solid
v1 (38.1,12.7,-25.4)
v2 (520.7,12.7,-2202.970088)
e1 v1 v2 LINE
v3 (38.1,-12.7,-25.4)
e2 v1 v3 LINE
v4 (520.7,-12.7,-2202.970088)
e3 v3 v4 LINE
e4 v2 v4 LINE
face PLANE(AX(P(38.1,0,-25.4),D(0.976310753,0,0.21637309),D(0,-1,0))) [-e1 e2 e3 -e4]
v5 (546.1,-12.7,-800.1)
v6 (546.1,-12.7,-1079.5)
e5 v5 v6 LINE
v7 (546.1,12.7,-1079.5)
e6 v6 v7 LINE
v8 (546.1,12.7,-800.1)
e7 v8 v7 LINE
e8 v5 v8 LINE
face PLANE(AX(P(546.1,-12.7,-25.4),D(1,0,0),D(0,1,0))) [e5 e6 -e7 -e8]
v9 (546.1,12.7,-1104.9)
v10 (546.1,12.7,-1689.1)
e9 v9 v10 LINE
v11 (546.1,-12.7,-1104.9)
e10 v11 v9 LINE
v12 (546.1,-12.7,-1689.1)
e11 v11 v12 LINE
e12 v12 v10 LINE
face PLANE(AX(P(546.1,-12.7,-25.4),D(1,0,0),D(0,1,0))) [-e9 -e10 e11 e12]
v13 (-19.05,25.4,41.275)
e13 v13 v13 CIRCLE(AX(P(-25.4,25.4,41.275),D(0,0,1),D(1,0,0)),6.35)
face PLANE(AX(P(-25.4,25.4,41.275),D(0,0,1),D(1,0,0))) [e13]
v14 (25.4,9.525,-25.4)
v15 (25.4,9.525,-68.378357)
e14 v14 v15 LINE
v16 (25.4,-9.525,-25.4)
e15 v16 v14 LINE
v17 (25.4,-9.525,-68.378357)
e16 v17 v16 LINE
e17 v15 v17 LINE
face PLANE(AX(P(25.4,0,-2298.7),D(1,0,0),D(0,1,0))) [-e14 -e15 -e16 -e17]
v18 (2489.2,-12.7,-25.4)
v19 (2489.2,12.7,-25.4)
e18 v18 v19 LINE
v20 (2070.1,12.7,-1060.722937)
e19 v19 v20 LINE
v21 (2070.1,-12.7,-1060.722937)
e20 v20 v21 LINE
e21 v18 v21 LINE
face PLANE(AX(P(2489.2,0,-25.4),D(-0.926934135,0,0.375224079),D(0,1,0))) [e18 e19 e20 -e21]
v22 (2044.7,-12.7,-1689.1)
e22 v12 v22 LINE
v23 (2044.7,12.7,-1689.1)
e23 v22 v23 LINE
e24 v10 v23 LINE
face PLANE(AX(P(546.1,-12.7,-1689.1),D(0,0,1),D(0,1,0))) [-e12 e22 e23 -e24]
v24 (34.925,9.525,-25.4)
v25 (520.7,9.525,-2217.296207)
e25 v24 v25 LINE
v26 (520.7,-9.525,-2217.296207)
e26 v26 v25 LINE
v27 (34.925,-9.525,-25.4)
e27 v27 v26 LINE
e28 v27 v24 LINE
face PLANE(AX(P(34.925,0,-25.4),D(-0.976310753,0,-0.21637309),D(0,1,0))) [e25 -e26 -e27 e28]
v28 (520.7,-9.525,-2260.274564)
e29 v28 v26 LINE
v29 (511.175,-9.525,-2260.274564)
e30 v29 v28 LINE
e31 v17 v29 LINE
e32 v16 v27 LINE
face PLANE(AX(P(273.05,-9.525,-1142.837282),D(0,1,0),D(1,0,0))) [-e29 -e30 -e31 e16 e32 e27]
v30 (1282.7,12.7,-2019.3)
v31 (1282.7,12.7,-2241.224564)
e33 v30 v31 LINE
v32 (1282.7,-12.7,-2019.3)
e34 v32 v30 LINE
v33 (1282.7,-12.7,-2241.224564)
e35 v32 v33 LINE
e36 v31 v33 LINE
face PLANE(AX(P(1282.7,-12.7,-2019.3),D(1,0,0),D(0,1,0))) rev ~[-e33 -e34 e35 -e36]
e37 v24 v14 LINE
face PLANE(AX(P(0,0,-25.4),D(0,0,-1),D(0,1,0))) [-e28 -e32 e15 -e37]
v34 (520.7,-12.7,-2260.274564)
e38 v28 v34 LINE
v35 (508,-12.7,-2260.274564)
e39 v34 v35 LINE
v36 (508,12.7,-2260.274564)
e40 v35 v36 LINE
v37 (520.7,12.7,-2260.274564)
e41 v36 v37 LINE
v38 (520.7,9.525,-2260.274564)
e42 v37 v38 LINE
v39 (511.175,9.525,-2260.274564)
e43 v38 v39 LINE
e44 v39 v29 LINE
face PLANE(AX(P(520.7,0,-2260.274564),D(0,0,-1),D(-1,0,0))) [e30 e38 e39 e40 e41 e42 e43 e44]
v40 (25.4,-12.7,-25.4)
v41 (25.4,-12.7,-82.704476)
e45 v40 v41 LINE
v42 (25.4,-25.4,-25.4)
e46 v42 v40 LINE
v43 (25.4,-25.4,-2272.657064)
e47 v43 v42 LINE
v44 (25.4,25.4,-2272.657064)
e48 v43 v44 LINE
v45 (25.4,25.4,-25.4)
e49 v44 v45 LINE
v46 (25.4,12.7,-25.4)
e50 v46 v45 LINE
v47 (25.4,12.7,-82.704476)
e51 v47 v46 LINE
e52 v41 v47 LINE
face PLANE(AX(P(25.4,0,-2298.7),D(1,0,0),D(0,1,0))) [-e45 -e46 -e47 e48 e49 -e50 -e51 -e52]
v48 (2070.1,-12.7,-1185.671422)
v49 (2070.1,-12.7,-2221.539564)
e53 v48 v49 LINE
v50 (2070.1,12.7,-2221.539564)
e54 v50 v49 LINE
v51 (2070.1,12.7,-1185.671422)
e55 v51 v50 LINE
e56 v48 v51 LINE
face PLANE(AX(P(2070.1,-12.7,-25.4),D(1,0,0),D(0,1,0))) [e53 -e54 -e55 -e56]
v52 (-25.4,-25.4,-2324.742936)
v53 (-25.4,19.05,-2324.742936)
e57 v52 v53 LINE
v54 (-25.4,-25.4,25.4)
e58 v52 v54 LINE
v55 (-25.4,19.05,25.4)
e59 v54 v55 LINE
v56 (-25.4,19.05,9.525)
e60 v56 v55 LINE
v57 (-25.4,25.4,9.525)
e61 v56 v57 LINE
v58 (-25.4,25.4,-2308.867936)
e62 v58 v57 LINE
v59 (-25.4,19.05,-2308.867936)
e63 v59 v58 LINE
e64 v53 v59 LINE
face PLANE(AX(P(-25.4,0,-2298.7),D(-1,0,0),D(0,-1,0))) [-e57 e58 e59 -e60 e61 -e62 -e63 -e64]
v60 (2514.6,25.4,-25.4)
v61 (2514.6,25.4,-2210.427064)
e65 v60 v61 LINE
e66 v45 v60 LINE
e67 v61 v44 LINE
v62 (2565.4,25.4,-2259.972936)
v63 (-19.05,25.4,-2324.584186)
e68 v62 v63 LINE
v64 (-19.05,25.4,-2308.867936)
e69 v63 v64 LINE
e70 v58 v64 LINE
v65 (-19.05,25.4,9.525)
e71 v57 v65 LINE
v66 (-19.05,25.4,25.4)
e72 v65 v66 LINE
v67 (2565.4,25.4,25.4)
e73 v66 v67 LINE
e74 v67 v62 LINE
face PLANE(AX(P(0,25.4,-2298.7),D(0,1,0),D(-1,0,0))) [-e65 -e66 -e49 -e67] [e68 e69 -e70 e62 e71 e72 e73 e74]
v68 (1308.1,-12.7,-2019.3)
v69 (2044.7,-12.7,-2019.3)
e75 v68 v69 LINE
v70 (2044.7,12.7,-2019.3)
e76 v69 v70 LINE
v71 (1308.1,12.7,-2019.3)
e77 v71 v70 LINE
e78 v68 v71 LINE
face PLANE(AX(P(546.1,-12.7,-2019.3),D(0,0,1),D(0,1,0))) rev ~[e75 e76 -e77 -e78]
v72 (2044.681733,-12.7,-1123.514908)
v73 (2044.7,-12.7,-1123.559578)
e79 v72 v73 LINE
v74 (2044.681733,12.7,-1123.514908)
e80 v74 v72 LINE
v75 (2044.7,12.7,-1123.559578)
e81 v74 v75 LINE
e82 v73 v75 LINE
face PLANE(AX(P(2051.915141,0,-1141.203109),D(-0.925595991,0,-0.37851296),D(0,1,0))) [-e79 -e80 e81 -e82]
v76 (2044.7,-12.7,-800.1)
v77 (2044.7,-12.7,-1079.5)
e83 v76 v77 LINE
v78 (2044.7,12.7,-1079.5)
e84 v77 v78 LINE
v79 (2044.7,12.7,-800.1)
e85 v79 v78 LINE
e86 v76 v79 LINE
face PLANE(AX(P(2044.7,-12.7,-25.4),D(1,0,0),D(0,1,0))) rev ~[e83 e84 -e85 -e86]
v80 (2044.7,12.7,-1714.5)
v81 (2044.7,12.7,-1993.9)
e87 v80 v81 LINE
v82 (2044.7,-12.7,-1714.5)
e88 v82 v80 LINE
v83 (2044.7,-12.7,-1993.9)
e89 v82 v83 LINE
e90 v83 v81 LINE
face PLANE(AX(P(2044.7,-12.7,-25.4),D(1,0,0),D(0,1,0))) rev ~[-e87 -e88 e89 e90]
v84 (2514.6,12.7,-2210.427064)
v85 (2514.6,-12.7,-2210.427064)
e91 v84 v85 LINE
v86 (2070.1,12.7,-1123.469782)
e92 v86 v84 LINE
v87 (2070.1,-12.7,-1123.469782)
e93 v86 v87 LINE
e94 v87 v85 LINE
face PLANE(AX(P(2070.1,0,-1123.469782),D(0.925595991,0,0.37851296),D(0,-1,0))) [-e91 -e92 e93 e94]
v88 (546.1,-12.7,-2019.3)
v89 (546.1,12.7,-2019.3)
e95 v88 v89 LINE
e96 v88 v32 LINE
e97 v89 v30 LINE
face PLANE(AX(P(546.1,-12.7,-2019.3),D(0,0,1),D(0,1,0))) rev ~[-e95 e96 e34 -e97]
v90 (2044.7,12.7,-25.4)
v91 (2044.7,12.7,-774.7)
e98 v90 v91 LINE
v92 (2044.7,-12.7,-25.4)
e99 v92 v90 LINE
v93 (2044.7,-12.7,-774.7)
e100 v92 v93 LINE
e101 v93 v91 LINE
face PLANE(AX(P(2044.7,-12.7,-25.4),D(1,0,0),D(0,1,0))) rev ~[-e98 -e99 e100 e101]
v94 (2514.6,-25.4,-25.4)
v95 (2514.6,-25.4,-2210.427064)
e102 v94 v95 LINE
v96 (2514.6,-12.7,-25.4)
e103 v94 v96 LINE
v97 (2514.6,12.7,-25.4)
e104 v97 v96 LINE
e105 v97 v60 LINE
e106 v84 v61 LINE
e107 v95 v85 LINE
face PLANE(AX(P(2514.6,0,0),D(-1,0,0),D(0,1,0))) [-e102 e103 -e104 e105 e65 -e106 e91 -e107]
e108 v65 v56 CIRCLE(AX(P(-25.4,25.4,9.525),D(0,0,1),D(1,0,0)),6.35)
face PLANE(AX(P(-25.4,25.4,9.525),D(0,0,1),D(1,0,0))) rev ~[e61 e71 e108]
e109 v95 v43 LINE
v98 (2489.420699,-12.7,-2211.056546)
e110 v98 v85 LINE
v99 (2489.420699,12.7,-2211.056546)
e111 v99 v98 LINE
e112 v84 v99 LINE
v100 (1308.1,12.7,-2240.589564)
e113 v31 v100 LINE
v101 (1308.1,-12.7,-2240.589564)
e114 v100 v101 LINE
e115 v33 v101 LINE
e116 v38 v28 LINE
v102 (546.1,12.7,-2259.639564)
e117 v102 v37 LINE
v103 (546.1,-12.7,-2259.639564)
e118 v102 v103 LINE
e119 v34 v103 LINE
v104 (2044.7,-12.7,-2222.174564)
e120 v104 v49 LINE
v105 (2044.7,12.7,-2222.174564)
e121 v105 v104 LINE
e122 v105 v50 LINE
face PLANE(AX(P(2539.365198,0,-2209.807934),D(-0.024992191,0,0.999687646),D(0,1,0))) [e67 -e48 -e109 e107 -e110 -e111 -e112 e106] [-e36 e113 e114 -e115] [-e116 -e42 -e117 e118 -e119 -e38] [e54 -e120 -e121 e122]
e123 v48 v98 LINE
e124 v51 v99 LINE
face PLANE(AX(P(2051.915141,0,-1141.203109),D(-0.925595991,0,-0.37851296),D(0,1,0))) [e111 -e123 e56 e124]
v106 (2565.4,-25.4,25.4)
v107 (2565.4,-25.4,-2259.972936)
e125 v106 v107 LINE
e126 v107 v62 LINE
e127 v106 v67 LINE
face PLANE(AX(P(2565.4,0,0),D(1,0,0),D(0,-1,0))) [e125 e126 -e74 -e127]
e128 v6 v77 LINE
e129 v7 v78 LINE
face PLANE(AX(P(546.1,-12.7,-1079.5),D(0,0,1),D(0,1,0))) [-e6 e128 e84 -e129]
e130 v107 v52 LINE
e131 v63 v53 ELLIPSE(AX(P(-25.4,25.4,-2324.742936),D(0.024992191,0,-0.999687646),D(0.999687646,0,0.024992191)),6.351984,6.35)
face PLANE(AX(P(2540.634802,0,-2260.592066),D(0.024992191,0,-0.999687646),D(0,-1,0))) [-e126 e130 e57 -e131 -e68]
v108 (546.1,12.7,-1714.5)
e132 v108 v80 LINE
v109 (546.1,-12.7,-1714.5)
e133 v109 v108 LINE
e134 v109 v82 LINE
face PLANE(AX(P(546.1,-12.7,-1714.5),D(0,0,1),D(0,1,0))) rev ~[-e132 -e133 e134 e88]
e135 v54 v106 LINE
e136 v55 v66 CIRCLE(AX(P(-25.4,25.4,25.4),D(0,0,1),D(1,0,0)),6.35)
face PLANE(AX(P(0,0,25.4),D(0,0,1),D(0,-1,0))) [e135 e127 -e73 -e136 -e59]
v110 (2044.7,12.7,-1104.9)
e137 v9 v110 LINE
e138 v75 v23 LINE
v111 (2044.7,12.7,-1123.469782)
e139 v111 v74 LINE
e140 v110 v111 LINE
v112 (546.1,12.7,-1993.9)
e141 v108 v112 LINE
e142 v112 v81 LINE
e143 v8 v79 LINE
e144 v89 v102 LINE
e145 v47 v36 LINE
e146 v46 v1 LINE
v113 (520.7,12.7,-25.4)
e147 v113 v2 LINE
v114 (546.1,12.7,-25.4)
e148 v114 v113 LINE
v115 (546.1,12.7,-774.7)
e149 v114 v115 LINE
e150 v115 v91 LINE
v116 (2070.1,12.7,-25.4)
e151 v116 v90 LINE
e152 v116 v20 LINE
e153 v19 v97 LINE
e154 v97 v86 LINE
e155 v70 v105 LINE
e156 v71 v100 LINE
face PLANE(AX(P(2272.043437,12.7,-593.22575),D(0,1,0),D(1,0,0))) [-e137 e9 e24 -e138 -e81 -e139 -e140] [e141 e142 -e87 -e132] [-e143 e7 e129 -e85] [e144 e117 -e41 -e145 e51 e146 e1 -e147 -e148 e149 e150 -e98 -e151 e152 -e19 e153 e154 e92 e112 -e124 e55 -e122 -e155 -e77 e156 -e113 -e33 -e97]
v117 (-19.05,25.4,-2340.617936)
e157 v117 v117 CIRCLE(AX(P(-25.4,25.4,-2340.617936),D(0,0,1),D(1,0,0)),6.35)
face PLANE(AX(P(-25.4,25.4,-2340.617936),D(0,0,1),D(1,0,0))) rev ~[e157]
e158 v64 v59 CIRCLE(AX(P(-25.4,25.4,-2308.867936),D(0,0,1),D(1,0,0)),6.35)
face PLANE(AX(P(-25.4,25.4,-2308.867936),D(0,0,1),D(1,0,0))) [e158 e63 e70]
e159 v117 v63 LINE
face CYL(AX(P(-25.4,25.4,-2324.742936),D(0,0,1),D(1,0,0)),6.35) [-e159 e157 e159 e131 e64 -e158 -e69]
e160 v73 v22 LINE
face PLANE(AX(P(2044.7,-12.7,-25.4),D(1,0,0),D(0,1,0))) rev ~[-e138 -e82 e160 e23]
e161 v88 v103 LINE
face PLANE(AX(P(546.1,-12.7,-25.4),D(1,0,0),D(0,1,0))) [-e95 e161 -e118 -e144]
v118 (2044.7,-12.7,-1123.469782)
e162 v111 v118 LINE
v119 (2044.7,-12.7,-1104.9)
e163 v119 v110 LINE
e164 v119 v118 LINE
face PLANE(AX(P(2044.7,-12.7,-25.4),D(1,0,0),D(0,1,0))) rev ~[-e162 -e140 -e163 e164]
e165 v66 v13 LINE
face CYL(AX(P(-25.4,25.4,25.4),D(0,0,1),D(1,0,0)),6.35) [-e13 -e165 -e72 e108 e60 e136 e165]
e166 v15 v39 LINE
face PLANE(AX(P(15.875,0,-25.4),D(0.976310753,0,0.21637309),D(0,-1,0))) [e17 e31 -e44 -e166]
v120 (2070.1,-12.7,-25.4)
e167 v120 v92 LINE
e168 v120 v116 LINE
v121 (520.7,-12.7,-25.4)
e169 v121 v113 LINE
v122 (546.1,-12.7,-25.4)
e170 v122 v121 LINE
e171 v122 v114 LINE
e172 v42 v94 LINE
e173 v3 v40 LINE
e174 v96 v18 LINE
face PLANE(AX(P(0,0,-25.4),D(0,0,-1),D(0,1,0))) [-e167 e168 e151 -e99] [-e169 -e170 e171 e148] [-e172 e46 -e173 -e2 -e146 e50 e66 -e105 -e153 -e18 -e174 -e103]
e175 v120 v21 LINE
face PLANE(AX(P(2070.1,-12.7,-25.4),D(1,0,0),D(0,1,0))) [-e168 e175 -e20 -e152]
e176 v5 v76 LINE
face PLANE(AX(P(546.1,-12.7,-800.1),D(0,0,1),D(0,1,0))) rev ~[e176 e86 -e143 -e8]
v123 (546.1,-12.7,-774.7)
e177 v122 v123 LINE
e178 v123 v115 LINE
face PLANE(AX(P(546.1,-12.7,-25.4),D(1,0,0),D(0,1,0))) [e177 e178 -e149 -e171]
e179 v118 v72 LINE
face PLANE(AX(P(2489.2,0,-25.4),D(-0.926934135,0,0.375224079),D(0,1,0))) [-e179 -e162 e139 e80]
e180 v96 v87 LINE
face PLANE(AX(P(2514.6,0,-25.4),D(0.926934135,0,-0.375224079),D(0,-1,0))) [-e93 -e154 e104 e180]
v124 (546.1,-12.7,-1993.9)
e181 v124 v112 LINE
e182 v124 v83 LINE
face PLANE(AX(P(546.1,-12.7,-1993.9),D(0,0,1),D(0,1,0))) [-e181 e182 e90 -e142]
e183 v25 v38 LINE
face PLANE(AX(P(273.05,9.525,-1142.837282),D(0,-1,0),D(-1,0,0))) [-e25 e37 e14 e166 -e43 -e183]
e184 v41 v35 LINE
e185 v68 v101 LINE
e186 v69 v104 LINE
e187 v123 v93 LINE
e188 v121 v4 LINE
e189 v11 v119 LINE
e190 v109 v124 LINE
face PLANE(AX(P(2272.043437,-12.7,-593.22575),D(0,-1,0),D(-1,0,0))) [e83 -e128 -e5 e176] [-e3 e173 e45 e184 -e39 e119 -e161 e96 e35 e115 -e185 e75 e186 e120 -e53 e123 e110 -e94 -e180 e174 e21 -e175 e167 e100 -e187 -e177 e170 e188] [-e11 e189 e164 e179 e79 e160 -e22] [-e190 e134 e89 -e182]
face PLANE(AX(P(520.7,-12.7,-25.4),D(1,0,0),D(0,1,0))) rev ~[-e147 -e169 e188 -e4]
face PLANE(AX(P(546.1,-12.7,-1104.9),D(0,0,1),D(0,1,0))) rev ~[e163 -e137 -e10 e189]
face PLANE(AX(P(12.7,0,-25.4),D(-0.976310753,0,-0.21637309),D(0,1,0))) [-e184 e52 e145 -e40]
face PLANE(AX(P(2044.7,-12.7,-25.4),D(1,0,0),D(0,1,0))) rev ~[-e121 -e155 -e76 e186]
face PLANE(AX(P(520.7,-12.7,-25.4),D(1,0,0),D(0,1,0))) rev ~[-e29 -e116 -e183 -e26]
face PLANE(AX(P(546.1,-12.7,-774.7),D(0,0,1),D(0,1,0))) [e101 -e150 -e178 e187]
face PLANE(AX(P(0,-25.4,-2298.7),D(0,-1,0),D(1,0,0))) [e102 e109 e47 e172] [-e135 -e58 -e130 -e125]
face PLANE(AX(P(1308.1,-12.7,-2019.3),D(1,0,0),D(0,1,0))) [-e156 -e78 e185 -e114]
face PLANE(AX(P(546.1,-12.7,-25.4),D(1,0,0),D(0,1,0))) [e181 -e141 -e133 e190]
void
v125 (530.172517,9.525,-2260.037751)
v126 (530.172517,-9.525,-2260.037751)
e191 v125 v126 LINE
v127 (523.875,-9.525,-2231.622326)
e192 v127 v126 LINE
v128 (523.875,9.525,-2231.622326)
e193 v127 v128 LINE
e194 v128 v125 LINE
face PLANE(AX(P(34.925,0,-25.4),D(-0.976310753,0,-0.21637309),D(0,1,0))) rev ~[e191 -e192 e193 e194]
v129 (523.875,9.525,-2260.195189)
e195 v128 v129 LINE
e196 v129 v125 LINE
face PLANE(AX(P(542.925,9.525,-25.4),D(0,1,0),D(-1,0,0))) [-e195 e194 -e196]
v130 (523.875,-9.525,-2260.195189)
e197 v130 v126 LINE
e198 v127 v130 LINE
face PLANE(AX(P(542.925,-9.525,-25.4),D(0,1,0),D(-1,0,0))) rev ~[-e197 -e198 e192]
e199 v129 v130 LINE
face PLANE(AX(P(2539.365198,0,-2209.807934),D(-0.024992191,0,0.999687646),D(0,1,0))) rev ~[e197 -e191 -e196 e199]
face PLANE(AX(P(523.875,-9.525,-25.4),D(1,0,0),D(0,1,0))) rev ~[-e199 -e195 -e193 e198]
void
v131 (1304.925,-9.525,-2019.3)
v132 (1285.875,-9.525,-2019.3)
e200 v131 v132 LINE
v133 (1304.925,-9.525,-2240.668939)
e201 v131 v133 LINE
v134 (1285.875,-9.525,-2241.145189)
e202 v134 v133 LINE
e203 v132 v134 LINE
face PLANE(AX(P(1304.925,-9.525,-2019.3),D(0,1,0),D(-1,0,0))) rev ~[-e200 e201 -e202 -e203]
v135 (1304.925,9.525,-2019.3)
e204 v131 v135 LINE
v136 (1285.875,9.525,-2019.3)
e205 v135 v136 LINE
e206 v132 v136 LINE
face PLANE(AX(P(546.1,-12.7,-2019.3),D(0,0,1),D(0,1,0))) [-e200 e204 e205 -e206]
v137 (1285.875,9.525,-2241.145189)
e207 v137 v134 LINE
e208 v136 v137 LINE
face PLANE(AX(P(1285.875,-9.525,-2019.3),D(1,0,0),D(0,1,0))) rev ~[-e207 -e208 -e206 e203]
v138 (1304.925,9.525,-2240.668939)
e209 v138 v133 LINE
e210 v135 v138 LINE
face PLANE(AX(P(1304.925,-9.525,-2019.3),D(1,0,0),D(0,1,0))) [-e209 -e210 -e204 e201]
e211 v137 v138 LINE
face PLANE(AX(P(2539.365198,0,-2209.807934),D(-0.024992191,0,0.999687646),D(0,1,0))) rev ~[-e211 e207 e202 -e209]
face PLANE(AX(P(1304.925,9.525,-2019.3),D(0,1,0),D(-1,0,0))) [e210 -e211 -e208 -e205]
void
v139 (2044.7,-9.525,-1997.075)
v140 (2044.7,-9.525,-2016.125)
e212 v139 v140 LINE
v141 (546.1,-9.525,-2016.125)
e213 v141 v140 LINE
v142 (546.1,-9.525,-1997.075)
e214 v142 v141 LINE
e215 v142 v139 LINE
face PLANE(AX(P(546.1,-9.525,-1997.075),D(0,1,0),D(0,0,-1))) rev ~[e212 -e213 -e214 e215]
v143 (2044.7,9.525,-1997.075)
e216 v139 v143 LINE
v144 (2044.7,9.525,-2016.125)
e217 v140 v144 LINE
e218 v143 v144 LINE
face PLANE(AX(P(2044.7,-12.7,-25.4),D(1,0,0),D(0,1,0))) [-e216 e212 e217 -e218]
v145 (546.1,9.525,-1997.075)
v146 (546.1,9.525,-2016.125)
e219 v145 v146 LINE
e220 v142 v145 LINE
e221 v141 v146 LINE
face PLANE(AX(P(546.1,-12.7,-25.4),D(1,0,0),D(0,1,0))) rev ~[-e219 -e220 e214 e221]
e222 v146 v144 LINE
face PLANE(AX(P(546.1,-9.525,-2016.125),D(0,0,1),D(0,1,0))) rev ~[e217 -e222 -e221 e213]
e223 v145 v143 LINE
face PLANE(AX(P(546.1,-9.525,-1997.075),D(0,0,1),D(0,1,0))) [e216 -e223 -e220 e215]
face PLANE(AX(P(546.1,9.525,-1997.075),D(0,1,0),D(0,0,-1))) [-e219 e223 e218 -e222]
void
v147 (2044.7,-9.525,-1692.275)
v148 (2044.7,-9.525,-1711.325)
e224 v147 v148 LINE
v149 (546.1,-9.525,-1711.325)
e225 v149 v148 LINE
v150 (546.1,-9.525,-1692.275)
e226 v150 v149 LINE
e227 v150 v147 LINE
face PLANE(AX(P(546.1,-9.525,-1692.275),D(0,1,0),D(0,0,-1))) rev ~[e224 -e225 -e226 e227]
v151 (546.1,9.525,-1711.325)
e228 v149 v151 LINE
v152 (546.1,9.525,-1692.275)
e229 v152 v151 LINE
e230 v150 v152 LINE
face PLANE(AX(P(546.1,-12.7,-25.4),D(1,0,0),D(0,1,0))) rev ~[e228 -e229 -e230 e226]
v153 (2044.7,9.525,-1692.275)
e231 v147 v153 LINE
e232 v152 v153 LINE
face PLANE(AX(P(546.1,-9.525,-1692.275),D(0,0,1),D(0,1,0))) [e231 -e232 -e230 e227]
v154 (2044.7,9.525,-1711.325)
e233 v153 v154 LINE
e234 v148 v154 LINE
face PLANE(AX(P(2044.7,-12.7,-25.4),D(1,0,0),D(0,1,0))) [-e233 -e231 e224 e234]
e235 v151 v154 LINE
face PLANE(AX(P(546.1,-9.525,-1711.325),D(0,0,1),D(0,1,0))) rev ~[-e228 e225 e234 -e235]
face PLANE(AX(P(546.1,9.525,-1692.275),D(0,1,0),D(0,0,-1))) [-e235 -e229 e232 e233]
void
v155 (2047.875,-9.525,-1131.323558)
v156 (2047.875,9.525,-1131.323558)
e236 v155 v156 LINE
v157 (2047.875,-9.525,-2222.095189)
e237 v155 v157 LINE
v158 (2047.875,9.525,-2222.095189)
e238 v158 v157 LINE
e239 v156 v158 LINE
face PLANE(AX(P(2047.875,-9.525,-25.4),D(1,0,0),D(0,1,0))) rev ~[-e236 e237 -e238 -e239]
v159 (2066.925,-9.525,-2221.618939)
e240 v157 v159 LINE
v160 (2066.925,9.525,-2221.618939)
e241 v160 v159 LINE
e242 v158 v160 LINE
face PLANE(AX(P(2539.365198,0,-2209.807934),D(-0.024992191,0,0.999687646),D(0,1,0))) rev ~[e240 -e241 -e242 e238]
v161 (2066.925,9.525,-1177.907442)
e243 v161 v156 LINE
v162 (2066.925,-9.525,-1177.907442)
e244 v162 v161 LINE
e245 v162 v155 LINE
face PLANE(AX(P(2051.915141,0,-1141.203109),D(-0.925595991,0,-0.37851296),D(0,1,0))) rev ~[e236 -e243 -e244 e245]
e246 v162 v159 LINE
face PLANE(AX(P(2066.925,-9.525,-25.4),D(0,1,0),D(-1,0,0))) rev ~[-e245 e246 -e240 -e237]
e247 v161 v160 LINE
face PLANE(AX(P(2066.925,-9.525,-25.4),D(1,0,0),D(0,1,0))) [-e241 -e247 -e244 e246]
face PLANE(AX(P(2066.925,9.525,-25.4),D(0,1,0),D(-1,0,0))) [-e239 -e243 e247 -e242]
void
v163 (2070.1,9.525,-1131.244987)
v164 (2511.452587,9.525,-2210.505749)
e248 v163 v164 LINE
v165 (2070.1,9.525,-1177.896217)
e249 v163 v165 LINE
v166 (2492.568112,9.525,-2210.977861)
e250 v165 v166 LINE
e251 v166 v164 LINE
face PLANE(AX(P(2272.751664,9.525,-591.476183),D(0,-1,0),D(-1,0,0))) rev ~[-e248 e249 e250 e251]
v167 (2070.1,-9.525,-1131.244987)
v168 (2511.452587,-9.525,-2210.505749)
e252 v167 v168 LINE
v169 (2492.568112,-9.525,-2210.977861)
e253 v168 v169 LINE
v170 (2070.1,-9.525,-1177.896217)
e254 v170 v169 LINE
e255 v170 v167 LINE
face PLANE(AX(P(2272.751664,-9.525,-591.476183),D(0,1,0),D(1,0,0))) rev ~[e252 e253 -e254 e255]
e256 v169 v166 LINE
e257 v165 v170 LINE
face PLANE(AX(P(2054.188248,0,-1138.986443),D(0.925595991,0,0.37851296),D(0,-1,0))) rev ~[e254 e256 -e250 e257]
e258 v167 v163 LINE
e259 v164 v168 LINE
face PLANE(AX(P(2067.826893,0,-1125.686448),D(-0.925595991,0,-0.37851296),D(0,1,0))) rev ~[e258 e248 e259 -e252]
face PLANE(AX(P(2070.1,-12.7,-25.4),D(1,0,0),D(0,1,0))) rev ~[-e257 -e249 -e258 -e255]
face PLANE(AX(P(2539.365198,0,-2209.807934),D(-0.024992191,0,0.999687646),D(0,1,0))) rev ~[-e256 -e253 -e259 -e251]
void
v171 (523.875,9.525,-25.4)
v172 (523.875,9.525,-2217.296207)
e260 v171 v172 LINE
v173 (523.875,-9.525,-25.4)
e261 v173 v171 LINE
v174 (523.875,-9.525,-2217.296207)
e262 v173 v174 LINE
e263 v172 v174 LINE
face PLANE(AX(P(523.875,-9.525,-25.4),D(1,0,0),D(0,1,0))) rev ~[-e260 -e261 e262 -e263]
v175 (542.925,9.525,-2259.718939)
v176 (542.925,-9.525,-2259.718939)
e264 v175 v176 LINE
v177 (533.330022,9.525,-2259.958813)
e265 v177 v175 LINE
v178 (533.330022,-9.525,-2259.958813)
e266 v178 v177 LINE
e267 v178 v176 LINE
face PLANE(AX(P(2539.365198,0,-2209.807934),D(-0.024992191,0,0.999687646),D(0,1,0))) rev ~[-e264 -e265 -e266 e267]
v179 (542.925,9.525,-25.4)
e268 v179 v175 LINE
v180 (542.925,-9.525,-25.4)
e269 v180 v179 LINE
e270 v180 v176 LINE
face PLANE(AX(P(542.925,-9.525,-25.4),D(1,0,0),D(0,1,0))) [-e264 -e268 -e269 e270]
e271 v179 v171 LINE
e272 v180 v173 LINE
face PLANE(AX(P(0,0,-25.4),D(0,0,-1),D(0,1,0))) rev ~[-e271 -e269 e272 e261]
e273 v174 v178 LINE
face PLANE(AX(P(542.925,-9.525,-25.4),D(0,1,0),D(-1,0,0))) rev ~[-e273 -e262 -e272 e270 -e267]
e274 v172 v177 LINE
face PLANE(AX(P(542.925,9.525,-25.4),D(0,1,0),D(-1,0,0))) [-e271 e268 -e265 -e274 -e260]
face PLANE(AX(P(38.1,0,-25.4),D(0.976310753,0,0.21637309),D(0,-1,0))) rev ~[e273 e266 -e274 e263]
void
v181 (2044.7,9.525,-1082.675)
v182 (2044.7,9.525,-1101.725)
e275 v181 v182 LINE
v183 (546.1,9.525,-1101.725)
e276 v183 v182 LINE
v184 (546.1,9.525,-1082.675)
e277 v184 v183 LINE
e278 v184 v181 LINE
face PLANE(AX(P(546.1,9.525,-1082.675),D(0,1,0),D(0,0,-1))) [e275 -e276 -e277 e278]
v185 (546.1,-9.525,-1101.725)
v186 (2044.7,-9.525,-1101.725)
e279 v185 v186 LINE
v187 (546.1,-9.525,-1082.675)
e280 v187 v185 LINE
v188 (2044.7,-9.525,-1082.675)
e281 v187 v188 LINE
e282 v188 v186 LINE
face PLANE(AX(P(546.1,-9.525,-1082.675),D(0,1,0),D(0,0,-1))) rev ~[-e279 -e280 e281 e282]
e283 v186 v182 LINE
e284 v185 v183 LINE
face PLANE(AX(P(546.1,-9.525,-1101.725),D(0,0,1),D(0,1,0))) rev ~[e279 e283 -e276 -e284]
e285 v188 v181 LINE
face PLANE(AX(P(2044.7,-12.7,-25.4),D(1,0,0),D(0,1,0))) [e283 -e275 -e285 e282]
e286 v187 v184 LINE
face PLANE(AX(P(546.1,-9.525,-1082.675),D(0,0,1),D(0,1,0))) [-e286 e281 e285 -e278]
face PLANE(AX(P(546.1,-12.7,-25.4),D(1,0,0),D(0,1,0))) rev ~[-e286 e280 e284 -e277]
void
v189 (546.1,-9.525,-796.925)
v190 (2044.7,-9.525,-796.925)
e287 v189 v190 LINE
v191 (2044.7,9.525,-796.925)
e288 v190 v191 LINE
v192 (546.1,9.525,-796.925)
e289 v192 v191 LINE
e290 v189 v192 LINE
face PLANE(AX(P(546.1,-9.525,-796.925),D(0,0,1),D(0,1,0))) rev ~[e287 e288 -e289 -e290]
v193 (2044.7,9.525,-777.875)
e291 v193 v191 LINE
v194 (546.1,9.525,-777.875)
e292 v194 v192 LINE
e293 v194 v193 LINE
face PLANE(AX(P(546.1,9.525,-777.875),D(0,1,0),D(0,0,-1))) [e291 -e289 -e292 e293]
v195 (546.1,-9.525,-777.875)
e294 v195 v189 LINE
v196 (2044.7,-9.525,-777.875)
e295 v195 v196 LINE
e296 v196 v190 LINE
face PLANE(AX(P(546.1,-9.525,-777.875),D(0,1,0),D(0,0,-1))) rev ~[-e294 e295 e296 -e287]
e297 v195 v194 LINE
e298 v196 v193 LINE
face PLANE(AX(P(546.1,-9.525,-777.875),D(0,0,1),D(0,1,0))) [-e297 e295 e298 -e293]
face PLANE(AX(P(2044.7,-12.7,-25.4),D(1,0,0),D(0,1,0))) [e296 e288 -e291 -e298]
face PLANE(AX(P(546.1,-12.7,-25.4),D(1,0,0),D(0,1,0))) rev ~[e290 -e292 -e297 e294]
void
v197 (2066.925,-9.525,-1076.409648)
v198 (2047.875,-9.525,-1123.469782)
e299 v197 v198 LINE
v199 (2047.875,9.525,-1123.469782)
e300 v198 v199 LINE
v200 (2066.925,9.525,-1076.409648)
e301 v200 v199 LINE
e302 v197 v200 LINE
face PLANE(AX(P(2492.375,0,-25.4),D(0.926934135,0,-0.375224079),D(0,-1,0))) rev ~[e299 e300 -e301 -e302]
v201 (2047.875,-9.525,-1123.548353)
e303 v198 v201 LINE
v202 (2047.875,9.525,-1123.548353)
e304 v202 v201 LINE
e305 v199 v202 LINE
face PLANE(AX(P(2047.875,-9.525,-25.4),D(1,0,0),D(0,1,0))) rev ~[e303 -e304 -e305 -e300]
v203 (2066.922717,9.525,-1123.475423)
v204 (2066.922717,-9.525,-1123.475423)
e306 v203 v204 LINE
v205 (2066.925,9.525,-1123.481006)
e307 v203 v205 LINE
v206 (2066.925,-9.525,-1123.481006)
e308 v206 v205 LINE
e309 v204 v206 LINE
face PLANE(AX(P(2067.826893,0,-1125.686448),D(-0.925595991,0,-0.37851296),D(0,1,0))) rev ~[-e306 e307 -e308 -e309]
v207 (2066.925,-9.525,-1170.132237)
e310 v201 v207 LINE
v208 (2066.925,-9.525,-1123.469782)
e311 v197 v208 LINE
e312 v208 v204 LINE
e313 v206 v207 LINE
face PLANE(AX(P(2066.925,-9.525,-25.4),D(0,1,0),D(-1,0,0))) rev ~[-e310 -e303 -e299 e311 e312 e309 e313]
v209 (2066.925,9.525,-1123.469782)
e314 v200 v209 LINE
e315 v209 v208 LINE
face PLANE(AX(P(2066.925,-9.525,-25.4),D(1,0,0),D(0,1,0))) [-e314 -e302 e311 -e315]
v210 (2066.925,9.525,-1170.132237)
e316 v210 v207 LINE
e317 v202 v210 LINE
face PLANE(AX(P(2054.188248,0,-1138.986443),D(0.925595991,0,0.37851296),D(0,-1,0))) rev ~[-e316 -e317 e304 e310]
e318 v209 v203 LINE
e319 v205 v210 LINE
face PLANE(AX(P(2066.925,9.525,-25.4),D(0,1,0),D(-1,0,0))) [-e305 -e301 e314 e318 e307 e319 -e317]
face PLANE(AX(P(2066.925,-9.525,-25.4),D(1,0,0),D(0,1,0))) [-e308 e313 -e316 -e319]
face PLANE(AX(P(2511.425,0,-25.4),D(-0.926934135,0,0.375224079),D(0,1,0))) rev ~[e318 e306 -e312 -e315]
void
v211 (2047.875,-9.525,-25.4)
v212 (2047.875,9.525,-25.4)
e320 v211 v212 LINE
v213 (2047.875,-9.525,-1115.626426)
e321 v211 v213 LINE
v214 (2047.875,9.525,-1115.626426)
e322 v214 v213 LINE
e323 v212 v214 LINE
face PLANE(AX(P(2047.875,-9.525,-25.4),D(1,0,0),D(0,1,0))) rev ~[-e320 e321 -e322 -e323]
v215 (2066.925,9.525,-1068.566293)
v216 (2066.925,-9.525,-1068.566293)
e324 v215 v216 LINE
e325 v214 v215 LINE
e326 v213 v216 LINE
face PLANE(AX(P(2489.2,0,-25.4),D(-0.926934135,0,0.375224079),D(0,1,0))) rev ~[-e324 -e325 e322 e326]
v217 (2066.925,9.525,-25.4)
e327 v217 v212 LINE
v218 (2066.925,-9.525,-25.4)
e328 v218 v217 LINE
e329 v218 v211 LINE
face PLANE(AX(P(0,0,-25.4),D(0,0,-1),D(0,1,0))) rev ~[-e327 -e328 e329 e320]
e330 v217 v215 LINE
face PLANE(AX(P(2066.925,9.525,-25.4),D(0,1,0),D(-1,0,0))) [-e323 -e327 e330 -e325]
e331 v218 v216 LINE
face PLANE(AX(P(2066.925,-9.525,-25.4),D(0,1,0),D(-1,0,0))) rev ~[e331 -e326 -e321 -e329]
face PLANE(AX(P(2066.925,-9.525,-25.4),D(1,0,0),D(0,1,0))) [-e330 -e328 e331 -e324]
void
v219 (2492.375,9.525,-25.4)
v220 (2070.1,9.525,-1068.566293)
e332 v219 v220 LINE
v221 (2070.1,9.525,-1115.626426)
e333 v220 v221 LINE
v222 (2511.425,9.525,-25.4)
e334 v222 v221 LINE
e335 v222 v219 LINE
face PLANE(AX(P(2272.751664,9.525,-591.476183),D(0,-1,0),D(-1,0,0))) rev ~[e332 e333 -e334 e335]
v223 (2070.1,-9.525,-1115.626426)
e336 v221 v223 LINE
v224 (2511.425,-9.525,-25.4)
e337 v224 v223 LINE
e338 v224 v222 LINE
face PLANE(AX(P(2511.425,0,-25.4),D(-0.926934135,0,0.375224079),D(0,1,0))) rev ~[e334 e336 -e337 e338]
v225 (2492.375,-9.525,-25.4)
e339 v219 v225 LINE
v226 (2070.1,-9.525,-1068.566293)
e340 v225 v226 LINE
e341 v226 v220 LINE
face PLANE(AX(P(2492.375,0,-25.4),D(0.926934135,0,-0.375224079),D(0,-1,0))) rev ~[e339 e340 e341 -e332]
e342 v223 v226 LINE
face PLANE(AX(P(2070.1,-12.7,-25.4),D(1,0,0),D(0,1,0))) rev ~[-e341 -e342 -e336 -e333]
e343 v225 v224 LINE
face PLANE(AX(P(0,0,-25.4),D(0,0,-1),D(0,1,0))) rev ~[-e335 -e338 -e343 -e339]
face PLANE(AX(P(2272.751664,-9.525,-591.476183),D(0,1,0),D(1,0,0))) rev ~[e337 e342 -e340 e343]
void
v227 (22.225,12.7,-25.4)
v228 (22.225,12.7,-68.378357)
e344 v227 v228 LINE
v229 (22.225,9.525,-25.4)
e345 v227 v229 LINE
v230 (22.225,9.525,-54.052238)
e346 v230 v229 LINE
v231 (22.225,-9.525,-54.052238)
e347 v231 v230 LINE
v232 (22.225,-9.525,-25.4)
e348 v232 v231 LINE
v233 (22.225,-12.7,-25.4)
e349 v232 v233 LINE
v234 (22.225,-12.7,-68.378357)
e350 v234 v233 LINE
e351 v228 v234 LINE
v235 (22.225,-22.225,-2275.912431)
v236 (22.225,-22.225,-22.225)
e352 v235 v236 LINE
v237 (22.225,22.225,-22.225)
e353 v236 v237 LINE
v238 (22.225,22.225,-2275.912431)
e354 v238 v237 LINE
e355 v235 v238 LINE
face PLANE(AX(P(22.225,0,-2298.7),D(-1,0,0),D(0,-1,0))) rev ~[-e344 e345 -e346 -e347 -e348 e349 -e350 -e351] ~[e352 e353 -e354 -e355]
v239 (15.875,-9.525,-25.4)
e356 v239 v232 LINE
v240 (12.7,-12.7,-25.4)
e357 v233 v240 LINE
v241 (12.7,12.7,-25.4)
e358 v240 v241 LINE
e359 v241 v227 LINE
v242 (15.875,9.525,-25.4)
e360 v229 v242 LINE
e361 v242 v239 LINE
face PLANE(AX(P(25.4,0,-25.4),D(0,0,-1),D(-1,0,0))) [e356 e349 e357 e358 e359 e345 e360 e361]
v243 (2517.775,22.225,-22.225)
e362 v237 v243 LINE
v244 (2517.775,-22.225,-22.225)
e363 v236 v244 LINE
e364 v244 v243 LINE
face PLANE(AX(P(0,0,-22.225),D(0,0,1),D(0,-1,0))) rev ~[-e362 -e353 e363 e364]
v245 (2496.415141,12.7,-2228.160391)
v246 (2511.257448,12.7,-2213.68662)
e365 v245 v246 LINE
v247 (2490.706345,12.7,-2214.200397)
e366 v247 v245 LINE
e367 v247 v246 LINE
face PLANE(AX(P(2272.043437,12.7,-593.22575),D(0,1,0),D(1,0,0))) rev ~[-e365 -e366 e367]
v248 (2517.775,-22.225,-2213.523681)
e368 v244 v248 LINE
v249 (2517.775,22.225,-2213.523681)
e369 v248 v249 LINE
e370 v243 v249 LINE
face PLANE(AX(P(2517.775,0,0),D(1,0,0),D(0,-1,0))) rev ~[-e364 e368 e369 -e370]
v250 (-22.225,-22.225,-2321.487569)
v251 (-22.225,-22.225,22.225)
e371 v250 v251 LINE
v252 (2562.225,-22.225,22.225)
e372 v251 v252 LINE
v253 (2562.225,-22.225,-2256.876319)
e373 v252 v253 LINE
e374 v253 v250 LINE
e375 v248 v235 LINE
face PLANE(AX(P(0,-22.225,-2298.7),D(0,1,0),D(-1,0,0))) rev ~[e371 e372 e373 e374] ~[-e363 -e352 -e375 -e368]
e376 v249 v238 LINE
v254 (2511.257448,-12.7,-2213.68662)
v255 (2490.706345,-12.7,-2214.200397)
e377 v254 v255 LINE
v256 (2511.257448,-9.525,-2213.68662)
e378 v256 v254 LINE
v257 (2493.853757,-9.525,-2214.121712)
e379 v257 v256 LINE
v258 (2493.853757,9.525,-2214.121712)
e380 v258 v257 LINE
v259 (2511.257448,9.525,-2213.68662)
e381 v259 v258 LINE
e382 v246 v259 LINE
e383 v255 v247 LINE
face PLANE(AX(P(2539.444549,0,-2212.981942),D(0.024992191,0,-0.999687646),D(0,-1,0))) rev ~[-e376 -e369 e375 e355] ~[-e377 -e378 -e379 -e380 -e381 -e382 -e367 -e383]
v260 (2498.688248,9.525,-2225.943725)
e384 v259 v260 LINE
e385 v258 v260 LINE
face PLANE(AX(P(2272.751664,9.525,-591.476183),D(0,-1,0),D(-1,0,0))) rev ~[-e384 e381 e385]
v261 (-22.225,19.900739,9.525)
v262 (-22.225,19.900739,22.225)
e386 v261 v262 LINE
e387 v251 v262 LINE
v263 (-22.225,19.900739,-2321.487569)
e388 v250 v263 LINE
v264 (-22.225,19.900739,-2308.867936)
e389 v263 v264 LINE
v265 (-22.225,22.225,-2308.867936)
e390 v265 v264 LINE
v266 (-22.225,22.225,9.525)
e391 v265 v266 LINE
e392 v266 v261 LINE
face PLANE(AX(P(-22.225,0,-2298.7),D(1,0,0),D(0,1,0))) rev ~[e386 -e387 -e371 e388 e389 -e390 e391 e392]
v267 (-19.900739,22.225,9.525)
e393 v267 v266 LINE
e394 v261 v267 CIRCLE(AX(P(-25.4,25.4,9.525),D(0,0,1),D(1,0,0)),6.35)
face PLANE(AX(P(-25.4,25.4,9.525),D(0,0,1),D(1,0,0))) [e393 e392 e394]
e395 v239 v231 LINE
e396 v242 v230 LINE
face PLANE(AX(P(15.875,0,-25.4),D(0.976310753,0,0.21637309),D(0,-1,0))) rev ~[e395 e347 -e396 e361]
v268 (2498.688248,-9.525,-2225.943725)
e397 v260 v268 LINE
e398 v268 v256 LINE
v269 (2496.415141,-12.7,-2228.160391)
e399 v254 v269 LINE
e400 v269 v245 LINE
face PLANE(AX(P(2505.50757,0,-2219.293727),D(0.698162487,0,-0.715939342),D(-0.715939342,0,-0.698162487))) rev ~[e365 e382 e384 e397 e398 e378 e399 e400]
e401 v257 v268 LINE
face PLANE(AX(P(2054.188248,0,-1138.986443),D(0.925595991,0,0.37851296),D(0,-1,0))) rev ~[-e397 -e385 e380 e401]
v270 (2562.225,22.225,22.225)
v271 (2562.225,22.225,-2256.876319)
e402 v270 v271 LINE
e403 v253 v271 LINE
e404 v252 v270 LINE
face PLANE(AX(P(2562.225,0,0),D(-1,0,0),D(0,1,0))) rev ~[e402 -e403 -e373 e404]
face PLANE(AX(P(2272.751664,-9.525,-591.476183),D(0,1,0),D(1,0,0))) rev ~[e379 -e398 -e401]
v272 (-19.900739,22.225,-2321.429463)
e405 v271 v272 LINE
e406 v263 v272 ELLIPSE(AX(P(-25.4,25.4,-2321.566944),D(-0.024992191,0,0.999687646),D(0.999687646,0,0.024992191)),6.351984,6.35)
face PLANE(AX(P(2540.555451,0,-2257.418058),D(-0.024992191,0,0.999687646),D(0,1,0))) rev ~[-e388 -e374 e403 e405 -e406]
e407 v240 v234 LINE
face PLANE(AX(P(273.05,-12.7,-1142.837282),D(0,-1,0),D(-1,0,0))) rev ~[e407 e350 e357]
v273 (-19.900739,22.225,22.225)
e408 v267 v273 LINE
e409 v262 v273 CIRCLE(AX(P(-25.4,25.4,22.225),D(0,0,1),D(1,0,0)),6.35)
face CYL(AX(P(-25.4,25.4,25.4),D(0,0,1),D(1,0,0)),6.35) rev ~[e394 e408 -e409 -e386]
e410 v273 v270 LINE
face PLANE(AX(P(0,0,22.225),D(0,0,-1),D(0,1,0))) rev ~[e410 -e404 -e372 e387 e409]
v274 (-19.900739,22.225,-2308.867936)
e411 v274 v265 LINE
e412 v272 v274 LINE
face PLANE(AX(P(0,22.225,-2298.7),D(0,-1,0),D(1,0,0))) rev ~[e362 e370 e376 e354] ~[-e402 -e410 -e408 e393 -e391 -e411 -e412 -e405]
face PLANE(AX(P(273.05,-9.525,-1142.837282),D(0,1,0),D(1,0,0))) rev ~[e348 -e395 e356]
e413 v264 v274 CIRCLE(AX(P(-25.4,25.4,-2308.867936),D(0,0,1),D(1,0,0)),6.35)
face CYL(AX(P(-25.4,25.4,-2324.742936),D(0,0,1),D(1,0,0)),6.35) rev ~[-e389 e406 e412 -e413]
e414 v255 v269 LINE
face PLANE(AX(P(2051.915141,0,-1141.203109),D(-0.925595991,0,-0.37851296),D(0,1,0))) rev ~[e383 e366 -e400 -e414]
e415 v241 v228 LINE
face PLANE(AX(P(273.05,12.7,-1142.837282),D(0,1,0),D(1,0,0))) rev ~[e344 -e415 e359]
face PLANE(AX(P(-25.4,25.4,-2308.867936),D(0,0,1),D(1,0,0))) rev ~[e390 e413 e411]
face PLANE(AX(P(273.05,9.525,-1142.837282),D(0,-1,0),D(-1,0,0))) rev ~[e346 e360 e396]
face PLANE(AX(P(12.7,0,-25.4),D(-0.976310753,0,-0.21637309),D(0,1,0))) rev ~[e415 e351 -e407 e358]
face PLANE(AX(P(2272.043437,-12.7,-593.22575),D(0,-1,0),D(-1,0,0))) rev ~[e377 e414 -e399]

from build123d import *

# Parameters (mm, degrees)
SKETCH2_W           = 50.8
SKETCH2_H           = 50.8
SKETCH2_W_2         = 44.45
SKETCH2_H_2         = 44.45
BOSS_EXTRUDE1_REACH = 2301.343
SKETCH3_W           = 25.4
SKETCH3_H           = 25.4
SKETCH3_W_2         = 19.05
SKETCH3_H_2         = 19.05
SKETCH4_W           = 25.4
SKETCH4_H           = 25.4
SKETCH4_W_2         = 19.05
SKETCH4_H_2         = 19.05
BOSS_EXTRUDE2_DEPTH = 1498.6
SKETCH5_W           = 25.4
SKETCH5_H           = 25.4
SKETCH5_W_2         = 19.05
SKETCH5_H_2         = 19.05
BOSS_EXTRUDE3_REACH = 307.443
SKETCH11_W          = 25.4
SKETCH11_H          = 25.4
SKETCH11_W_2        = 19.05
SKETCH11_H_2        = 19.05
SKETCH13_W          = 25.4
SKETCH13_H          = 25.4
SKETCH13_W_2        = 19.05
SKETCH13_H_2        = 19.05
SKETCH15_R          = 6.35
BOSS_EXTRUDE4_DEPTH = 15.875
SKETCH16_R          = 6.35
BOSS_EXTRUDE5_DEPTH = 15.875


with BuildPart() as part:
    # Sweep1: sweep along a path in Sketch1
    with BuildLine(Plane(origin=(0, 0, 0), x_dir=(1, 0, 0), z_dir=(0, 1, 0))) as sweep1_path:
        Line((0, 2298.7), (0, 0))
        Line((0, 0), (2540, 0))
        Line((2540, 0), (2540, 2235.2))
        Line((2540, 2235.2), (0, 2298.7))
    # Sketch2 → Sweep1 (sweep)
    with BuildSketch(Plane.XY.offset(-1016)):
        Rectangle(SKETCH2_W, SKETCH2_H)
        Rectangle(SKETCH2_W_2, SKETCH2_H_2, mode=Mode.SUBTRACT)
    sweep(path=sweep1_path.line, transition=Transition.RIGHT)

    # Boss-Extrude1: up to this face of the body (flat: up to its plane)
    boss_extrude1_end = Plane(part.part.faces().sort_by_distance((1270, 0, -2241.54206374))[0])
    # Sketch3 → Boss-Extrude1 (add, up to the picked face)
    with BuildSketch(Plane(origin=(0, 0, -25.4), x_dir=(-1, 0, 0), z_dir=(0, 0, -1)), mode=Mode.PRIVATE) as boss_extrude1_sk1:
        with Locations((-533.4, 0)):
            Rectangle(SKETCH3_W, SKETCH3_H)
        with Locations((-533.4, 0)):
            Rectangle(SKETCH3_W_2, SKETCH3_H_2, mode=Mode.SUBTRACT)
    boss_extrude1_tool1 = split(extrude(boss_extrude1_sk1.sketch, amount=BOSS_EXTRUDE1_REACH, mode=Mode.PRIVATE), bisect_by=boss_extrude1_end, keep=Keep.BOTH, mode=Mode.PRIVATE)
    add(boss_extrude1_tool1.solids().sort_by_distance((521.05921, 0, -25.4))[0])
    # Sketch3 → Boss-Extrude1 (add, up to the picked face)
    with BuildSketch(Plane(origin=(0, 0, -25.4), x_dir=(-1, 0, 0), z_dir=(0, 0, -1)), mode=Mode.PRIVATE) as boss_extrude1_sk2:
        with Locations((-2057.4, 0)):
            Rectangle(SKETCH3_W, SKETCH3_H)
        with Locations((-2057.4, 0)):
            Rectangle(SKETCH3_W_2, SKETCH3_H_2, mode=Mode.SUBTRACT)
    boss_extrude1_tool2 = split(extrude(boss_extrude1_sk2.sketch, amount=BOSS_EXTRUDE1_REACH, mode=Mode.PRIVATE), bisect_by=boss_extrude1_end, keep=Keep.BOTH, mode=Mode.PRIVATE)
    add(boss_extrude1_tool2.solids().sort_by_distance((2057.4, -12.34079, -25.4))[0])

    # Sketch4 → Boss-Extrude2 (add)
    with BuildSketch(Plane(origin=(546.1, 0, 0), x_dir=(0, 0, -1), z_dir=(1, 0, 0))):
        with Locations((787.4, 0)):
            Rectangle(SKETCH4_W, SKETCH4_H)
        with Locations((787.4, 0)):
            Rectangle(SKETCH4_W_2, SKETCH4_H_2, mode=Mode.SUBTRACT)
        with Locations((1092.2, 0)):
            Rectangle(SKETCH4_W, SKETCH4_H)
        with Locations((1092.2, 0)):
            Rectangle(SKETCH4_W_2, SKETCH4_H_2, mode=Mode.SUBTRACT)
        with Locations((1701.8, 0)):
            Rectangle(SKETCH4_W, SKETCH4_H)
        with Locations((1701.8, 0)):
            Rectangle(SKETCH4_W_2, SKETCH4_H_2, mode=Mode.SUBTRACT)
        with Locations((2006.6, 0)):
            Rectangle(SKETCH4_W, SKETCH4_H)
        with Locations((2006.6, 0)):
            Rectangle(SKETCH4_W_2, SKETCH4_H_2, mode=Mode.SUBTRACT)
    extrude(amount=BOSS_EXTRUDE2_DEPTH)

    # Sweep2: sweep along a path in Sketch6
    with BuildLine(Plane(origin=(0, 25.4, 0), x_dir=(1, 0, 0), z_dir=(0, 1, 0))) as sweep2_path:
        Line((25.4, 25.4), (520.7, 2260.27456374))
    # Sketch5 → Sweep2 (sweep)
    with BuildSketch(Plane(origin=(0, 0, -25.4), x_dir=(-1, 0, 0), z_dir=(0, 0, -1))):
        with Locations((-25.4, 0)):
            Rectangle(SKETCH5_W, SKETCH5_H)
        with Locations((-25.4, 0)):
            Rectangle(SKETCH5_W_2, SKETCH5_H_2, mode=Mode.SUBTRACT)
    sweep(path=sweep2_path.line)

    # Boss-Extrude3: up to this face of the body (flat: up to its plane)
    boss_extrude3_end = Plane(part.part.faces().sort_by_distance((1269.73814433, 0, -2241.548610131))[0])
    # Sketch11 → Boss-Extrude3 (add, up to the picked face)
    with BuildSketch(Plane(origin=(0, 0, -2019.3), x_dir=(-1, 0, 0), z_dir=(0, 0, -1)), mode=Mode.PRIVATE) as boss_extrude3_sk1:
        with Locations((-1295.4, 0)):
            Rectangle(SKETCH11_W, SKETCH11_H)
        with Locations((-1295.4, 0)):
            Rectangle(SKETCH11_W_2, SKETCH11_H_2, mode=Mode.SUBTRACT)
    boss_extrude3_tool1 = split(extrude(boss_extrude3_sk1.sketch, amount=BOSS_EXTRUDE3_REACH, mode=Mode.PRIVATE), bisect_by=boss_extrude3_end, keep=Keep.BOTH, mode=Mode.PRIVATE)
    add(boss_extrude3_tool1.solids().sort_by_distance((1295.4, -12.34079, -2019.3))[0])

    # Sweep6: sweep along a path in Sketch14
    with BuildLine(Plane(origin=(0, 25.4, 0), x_dir=(1, 0, 0), z_dir=(0, 1, 0))) as sweep6_path:
        Line((2514.6, 25.4), (2070.1, 1123.46978187))
        Line((2070.1, 1123.46978187), (2514.6, 2210.42706374))
    # Sketch13 → Sweep6 (sweep)
    with BuildSketch(Plane(origin=(0, 0, -25.4), x_dir=(-1, 0, 0), z_dir=(0, 0, -1))):
        with Locations((-2501.9, 0)):
            Rectangle(SKETCH13_W, SKETCH13_H)
        with Locations((-2501.9, 0)):
            Rectangle(SKETCH13_W_2, SKETCH13_H_2, mode=Mode.SUBTRACT)
    sweep(path=sweep6_path.line, transition=Transition.RIGHT)

    # Sketch15 → Boss-Extrude4 (add, symmetric)
    with BuildSketch(Plane.XY.offset(-2324.74293626)):
        with Locations((-25.4, 25.4)):
            Circle(SKETCH15_R)
    extrude(amount=BOSS_EXTRUDE4_DEPTH, both=True)

    # Sketch16 → Boss-Extrude5 (add, symmetric)
    with BuildSketch(Plane.XY.offset(25.4)):
        with Locations((-25.4, 25.4)):
            Circle(SKETCH16_R)
    extrude(amount=BOSS_EXTRUDE5_DEPTH, both=True)


solid = part.part
